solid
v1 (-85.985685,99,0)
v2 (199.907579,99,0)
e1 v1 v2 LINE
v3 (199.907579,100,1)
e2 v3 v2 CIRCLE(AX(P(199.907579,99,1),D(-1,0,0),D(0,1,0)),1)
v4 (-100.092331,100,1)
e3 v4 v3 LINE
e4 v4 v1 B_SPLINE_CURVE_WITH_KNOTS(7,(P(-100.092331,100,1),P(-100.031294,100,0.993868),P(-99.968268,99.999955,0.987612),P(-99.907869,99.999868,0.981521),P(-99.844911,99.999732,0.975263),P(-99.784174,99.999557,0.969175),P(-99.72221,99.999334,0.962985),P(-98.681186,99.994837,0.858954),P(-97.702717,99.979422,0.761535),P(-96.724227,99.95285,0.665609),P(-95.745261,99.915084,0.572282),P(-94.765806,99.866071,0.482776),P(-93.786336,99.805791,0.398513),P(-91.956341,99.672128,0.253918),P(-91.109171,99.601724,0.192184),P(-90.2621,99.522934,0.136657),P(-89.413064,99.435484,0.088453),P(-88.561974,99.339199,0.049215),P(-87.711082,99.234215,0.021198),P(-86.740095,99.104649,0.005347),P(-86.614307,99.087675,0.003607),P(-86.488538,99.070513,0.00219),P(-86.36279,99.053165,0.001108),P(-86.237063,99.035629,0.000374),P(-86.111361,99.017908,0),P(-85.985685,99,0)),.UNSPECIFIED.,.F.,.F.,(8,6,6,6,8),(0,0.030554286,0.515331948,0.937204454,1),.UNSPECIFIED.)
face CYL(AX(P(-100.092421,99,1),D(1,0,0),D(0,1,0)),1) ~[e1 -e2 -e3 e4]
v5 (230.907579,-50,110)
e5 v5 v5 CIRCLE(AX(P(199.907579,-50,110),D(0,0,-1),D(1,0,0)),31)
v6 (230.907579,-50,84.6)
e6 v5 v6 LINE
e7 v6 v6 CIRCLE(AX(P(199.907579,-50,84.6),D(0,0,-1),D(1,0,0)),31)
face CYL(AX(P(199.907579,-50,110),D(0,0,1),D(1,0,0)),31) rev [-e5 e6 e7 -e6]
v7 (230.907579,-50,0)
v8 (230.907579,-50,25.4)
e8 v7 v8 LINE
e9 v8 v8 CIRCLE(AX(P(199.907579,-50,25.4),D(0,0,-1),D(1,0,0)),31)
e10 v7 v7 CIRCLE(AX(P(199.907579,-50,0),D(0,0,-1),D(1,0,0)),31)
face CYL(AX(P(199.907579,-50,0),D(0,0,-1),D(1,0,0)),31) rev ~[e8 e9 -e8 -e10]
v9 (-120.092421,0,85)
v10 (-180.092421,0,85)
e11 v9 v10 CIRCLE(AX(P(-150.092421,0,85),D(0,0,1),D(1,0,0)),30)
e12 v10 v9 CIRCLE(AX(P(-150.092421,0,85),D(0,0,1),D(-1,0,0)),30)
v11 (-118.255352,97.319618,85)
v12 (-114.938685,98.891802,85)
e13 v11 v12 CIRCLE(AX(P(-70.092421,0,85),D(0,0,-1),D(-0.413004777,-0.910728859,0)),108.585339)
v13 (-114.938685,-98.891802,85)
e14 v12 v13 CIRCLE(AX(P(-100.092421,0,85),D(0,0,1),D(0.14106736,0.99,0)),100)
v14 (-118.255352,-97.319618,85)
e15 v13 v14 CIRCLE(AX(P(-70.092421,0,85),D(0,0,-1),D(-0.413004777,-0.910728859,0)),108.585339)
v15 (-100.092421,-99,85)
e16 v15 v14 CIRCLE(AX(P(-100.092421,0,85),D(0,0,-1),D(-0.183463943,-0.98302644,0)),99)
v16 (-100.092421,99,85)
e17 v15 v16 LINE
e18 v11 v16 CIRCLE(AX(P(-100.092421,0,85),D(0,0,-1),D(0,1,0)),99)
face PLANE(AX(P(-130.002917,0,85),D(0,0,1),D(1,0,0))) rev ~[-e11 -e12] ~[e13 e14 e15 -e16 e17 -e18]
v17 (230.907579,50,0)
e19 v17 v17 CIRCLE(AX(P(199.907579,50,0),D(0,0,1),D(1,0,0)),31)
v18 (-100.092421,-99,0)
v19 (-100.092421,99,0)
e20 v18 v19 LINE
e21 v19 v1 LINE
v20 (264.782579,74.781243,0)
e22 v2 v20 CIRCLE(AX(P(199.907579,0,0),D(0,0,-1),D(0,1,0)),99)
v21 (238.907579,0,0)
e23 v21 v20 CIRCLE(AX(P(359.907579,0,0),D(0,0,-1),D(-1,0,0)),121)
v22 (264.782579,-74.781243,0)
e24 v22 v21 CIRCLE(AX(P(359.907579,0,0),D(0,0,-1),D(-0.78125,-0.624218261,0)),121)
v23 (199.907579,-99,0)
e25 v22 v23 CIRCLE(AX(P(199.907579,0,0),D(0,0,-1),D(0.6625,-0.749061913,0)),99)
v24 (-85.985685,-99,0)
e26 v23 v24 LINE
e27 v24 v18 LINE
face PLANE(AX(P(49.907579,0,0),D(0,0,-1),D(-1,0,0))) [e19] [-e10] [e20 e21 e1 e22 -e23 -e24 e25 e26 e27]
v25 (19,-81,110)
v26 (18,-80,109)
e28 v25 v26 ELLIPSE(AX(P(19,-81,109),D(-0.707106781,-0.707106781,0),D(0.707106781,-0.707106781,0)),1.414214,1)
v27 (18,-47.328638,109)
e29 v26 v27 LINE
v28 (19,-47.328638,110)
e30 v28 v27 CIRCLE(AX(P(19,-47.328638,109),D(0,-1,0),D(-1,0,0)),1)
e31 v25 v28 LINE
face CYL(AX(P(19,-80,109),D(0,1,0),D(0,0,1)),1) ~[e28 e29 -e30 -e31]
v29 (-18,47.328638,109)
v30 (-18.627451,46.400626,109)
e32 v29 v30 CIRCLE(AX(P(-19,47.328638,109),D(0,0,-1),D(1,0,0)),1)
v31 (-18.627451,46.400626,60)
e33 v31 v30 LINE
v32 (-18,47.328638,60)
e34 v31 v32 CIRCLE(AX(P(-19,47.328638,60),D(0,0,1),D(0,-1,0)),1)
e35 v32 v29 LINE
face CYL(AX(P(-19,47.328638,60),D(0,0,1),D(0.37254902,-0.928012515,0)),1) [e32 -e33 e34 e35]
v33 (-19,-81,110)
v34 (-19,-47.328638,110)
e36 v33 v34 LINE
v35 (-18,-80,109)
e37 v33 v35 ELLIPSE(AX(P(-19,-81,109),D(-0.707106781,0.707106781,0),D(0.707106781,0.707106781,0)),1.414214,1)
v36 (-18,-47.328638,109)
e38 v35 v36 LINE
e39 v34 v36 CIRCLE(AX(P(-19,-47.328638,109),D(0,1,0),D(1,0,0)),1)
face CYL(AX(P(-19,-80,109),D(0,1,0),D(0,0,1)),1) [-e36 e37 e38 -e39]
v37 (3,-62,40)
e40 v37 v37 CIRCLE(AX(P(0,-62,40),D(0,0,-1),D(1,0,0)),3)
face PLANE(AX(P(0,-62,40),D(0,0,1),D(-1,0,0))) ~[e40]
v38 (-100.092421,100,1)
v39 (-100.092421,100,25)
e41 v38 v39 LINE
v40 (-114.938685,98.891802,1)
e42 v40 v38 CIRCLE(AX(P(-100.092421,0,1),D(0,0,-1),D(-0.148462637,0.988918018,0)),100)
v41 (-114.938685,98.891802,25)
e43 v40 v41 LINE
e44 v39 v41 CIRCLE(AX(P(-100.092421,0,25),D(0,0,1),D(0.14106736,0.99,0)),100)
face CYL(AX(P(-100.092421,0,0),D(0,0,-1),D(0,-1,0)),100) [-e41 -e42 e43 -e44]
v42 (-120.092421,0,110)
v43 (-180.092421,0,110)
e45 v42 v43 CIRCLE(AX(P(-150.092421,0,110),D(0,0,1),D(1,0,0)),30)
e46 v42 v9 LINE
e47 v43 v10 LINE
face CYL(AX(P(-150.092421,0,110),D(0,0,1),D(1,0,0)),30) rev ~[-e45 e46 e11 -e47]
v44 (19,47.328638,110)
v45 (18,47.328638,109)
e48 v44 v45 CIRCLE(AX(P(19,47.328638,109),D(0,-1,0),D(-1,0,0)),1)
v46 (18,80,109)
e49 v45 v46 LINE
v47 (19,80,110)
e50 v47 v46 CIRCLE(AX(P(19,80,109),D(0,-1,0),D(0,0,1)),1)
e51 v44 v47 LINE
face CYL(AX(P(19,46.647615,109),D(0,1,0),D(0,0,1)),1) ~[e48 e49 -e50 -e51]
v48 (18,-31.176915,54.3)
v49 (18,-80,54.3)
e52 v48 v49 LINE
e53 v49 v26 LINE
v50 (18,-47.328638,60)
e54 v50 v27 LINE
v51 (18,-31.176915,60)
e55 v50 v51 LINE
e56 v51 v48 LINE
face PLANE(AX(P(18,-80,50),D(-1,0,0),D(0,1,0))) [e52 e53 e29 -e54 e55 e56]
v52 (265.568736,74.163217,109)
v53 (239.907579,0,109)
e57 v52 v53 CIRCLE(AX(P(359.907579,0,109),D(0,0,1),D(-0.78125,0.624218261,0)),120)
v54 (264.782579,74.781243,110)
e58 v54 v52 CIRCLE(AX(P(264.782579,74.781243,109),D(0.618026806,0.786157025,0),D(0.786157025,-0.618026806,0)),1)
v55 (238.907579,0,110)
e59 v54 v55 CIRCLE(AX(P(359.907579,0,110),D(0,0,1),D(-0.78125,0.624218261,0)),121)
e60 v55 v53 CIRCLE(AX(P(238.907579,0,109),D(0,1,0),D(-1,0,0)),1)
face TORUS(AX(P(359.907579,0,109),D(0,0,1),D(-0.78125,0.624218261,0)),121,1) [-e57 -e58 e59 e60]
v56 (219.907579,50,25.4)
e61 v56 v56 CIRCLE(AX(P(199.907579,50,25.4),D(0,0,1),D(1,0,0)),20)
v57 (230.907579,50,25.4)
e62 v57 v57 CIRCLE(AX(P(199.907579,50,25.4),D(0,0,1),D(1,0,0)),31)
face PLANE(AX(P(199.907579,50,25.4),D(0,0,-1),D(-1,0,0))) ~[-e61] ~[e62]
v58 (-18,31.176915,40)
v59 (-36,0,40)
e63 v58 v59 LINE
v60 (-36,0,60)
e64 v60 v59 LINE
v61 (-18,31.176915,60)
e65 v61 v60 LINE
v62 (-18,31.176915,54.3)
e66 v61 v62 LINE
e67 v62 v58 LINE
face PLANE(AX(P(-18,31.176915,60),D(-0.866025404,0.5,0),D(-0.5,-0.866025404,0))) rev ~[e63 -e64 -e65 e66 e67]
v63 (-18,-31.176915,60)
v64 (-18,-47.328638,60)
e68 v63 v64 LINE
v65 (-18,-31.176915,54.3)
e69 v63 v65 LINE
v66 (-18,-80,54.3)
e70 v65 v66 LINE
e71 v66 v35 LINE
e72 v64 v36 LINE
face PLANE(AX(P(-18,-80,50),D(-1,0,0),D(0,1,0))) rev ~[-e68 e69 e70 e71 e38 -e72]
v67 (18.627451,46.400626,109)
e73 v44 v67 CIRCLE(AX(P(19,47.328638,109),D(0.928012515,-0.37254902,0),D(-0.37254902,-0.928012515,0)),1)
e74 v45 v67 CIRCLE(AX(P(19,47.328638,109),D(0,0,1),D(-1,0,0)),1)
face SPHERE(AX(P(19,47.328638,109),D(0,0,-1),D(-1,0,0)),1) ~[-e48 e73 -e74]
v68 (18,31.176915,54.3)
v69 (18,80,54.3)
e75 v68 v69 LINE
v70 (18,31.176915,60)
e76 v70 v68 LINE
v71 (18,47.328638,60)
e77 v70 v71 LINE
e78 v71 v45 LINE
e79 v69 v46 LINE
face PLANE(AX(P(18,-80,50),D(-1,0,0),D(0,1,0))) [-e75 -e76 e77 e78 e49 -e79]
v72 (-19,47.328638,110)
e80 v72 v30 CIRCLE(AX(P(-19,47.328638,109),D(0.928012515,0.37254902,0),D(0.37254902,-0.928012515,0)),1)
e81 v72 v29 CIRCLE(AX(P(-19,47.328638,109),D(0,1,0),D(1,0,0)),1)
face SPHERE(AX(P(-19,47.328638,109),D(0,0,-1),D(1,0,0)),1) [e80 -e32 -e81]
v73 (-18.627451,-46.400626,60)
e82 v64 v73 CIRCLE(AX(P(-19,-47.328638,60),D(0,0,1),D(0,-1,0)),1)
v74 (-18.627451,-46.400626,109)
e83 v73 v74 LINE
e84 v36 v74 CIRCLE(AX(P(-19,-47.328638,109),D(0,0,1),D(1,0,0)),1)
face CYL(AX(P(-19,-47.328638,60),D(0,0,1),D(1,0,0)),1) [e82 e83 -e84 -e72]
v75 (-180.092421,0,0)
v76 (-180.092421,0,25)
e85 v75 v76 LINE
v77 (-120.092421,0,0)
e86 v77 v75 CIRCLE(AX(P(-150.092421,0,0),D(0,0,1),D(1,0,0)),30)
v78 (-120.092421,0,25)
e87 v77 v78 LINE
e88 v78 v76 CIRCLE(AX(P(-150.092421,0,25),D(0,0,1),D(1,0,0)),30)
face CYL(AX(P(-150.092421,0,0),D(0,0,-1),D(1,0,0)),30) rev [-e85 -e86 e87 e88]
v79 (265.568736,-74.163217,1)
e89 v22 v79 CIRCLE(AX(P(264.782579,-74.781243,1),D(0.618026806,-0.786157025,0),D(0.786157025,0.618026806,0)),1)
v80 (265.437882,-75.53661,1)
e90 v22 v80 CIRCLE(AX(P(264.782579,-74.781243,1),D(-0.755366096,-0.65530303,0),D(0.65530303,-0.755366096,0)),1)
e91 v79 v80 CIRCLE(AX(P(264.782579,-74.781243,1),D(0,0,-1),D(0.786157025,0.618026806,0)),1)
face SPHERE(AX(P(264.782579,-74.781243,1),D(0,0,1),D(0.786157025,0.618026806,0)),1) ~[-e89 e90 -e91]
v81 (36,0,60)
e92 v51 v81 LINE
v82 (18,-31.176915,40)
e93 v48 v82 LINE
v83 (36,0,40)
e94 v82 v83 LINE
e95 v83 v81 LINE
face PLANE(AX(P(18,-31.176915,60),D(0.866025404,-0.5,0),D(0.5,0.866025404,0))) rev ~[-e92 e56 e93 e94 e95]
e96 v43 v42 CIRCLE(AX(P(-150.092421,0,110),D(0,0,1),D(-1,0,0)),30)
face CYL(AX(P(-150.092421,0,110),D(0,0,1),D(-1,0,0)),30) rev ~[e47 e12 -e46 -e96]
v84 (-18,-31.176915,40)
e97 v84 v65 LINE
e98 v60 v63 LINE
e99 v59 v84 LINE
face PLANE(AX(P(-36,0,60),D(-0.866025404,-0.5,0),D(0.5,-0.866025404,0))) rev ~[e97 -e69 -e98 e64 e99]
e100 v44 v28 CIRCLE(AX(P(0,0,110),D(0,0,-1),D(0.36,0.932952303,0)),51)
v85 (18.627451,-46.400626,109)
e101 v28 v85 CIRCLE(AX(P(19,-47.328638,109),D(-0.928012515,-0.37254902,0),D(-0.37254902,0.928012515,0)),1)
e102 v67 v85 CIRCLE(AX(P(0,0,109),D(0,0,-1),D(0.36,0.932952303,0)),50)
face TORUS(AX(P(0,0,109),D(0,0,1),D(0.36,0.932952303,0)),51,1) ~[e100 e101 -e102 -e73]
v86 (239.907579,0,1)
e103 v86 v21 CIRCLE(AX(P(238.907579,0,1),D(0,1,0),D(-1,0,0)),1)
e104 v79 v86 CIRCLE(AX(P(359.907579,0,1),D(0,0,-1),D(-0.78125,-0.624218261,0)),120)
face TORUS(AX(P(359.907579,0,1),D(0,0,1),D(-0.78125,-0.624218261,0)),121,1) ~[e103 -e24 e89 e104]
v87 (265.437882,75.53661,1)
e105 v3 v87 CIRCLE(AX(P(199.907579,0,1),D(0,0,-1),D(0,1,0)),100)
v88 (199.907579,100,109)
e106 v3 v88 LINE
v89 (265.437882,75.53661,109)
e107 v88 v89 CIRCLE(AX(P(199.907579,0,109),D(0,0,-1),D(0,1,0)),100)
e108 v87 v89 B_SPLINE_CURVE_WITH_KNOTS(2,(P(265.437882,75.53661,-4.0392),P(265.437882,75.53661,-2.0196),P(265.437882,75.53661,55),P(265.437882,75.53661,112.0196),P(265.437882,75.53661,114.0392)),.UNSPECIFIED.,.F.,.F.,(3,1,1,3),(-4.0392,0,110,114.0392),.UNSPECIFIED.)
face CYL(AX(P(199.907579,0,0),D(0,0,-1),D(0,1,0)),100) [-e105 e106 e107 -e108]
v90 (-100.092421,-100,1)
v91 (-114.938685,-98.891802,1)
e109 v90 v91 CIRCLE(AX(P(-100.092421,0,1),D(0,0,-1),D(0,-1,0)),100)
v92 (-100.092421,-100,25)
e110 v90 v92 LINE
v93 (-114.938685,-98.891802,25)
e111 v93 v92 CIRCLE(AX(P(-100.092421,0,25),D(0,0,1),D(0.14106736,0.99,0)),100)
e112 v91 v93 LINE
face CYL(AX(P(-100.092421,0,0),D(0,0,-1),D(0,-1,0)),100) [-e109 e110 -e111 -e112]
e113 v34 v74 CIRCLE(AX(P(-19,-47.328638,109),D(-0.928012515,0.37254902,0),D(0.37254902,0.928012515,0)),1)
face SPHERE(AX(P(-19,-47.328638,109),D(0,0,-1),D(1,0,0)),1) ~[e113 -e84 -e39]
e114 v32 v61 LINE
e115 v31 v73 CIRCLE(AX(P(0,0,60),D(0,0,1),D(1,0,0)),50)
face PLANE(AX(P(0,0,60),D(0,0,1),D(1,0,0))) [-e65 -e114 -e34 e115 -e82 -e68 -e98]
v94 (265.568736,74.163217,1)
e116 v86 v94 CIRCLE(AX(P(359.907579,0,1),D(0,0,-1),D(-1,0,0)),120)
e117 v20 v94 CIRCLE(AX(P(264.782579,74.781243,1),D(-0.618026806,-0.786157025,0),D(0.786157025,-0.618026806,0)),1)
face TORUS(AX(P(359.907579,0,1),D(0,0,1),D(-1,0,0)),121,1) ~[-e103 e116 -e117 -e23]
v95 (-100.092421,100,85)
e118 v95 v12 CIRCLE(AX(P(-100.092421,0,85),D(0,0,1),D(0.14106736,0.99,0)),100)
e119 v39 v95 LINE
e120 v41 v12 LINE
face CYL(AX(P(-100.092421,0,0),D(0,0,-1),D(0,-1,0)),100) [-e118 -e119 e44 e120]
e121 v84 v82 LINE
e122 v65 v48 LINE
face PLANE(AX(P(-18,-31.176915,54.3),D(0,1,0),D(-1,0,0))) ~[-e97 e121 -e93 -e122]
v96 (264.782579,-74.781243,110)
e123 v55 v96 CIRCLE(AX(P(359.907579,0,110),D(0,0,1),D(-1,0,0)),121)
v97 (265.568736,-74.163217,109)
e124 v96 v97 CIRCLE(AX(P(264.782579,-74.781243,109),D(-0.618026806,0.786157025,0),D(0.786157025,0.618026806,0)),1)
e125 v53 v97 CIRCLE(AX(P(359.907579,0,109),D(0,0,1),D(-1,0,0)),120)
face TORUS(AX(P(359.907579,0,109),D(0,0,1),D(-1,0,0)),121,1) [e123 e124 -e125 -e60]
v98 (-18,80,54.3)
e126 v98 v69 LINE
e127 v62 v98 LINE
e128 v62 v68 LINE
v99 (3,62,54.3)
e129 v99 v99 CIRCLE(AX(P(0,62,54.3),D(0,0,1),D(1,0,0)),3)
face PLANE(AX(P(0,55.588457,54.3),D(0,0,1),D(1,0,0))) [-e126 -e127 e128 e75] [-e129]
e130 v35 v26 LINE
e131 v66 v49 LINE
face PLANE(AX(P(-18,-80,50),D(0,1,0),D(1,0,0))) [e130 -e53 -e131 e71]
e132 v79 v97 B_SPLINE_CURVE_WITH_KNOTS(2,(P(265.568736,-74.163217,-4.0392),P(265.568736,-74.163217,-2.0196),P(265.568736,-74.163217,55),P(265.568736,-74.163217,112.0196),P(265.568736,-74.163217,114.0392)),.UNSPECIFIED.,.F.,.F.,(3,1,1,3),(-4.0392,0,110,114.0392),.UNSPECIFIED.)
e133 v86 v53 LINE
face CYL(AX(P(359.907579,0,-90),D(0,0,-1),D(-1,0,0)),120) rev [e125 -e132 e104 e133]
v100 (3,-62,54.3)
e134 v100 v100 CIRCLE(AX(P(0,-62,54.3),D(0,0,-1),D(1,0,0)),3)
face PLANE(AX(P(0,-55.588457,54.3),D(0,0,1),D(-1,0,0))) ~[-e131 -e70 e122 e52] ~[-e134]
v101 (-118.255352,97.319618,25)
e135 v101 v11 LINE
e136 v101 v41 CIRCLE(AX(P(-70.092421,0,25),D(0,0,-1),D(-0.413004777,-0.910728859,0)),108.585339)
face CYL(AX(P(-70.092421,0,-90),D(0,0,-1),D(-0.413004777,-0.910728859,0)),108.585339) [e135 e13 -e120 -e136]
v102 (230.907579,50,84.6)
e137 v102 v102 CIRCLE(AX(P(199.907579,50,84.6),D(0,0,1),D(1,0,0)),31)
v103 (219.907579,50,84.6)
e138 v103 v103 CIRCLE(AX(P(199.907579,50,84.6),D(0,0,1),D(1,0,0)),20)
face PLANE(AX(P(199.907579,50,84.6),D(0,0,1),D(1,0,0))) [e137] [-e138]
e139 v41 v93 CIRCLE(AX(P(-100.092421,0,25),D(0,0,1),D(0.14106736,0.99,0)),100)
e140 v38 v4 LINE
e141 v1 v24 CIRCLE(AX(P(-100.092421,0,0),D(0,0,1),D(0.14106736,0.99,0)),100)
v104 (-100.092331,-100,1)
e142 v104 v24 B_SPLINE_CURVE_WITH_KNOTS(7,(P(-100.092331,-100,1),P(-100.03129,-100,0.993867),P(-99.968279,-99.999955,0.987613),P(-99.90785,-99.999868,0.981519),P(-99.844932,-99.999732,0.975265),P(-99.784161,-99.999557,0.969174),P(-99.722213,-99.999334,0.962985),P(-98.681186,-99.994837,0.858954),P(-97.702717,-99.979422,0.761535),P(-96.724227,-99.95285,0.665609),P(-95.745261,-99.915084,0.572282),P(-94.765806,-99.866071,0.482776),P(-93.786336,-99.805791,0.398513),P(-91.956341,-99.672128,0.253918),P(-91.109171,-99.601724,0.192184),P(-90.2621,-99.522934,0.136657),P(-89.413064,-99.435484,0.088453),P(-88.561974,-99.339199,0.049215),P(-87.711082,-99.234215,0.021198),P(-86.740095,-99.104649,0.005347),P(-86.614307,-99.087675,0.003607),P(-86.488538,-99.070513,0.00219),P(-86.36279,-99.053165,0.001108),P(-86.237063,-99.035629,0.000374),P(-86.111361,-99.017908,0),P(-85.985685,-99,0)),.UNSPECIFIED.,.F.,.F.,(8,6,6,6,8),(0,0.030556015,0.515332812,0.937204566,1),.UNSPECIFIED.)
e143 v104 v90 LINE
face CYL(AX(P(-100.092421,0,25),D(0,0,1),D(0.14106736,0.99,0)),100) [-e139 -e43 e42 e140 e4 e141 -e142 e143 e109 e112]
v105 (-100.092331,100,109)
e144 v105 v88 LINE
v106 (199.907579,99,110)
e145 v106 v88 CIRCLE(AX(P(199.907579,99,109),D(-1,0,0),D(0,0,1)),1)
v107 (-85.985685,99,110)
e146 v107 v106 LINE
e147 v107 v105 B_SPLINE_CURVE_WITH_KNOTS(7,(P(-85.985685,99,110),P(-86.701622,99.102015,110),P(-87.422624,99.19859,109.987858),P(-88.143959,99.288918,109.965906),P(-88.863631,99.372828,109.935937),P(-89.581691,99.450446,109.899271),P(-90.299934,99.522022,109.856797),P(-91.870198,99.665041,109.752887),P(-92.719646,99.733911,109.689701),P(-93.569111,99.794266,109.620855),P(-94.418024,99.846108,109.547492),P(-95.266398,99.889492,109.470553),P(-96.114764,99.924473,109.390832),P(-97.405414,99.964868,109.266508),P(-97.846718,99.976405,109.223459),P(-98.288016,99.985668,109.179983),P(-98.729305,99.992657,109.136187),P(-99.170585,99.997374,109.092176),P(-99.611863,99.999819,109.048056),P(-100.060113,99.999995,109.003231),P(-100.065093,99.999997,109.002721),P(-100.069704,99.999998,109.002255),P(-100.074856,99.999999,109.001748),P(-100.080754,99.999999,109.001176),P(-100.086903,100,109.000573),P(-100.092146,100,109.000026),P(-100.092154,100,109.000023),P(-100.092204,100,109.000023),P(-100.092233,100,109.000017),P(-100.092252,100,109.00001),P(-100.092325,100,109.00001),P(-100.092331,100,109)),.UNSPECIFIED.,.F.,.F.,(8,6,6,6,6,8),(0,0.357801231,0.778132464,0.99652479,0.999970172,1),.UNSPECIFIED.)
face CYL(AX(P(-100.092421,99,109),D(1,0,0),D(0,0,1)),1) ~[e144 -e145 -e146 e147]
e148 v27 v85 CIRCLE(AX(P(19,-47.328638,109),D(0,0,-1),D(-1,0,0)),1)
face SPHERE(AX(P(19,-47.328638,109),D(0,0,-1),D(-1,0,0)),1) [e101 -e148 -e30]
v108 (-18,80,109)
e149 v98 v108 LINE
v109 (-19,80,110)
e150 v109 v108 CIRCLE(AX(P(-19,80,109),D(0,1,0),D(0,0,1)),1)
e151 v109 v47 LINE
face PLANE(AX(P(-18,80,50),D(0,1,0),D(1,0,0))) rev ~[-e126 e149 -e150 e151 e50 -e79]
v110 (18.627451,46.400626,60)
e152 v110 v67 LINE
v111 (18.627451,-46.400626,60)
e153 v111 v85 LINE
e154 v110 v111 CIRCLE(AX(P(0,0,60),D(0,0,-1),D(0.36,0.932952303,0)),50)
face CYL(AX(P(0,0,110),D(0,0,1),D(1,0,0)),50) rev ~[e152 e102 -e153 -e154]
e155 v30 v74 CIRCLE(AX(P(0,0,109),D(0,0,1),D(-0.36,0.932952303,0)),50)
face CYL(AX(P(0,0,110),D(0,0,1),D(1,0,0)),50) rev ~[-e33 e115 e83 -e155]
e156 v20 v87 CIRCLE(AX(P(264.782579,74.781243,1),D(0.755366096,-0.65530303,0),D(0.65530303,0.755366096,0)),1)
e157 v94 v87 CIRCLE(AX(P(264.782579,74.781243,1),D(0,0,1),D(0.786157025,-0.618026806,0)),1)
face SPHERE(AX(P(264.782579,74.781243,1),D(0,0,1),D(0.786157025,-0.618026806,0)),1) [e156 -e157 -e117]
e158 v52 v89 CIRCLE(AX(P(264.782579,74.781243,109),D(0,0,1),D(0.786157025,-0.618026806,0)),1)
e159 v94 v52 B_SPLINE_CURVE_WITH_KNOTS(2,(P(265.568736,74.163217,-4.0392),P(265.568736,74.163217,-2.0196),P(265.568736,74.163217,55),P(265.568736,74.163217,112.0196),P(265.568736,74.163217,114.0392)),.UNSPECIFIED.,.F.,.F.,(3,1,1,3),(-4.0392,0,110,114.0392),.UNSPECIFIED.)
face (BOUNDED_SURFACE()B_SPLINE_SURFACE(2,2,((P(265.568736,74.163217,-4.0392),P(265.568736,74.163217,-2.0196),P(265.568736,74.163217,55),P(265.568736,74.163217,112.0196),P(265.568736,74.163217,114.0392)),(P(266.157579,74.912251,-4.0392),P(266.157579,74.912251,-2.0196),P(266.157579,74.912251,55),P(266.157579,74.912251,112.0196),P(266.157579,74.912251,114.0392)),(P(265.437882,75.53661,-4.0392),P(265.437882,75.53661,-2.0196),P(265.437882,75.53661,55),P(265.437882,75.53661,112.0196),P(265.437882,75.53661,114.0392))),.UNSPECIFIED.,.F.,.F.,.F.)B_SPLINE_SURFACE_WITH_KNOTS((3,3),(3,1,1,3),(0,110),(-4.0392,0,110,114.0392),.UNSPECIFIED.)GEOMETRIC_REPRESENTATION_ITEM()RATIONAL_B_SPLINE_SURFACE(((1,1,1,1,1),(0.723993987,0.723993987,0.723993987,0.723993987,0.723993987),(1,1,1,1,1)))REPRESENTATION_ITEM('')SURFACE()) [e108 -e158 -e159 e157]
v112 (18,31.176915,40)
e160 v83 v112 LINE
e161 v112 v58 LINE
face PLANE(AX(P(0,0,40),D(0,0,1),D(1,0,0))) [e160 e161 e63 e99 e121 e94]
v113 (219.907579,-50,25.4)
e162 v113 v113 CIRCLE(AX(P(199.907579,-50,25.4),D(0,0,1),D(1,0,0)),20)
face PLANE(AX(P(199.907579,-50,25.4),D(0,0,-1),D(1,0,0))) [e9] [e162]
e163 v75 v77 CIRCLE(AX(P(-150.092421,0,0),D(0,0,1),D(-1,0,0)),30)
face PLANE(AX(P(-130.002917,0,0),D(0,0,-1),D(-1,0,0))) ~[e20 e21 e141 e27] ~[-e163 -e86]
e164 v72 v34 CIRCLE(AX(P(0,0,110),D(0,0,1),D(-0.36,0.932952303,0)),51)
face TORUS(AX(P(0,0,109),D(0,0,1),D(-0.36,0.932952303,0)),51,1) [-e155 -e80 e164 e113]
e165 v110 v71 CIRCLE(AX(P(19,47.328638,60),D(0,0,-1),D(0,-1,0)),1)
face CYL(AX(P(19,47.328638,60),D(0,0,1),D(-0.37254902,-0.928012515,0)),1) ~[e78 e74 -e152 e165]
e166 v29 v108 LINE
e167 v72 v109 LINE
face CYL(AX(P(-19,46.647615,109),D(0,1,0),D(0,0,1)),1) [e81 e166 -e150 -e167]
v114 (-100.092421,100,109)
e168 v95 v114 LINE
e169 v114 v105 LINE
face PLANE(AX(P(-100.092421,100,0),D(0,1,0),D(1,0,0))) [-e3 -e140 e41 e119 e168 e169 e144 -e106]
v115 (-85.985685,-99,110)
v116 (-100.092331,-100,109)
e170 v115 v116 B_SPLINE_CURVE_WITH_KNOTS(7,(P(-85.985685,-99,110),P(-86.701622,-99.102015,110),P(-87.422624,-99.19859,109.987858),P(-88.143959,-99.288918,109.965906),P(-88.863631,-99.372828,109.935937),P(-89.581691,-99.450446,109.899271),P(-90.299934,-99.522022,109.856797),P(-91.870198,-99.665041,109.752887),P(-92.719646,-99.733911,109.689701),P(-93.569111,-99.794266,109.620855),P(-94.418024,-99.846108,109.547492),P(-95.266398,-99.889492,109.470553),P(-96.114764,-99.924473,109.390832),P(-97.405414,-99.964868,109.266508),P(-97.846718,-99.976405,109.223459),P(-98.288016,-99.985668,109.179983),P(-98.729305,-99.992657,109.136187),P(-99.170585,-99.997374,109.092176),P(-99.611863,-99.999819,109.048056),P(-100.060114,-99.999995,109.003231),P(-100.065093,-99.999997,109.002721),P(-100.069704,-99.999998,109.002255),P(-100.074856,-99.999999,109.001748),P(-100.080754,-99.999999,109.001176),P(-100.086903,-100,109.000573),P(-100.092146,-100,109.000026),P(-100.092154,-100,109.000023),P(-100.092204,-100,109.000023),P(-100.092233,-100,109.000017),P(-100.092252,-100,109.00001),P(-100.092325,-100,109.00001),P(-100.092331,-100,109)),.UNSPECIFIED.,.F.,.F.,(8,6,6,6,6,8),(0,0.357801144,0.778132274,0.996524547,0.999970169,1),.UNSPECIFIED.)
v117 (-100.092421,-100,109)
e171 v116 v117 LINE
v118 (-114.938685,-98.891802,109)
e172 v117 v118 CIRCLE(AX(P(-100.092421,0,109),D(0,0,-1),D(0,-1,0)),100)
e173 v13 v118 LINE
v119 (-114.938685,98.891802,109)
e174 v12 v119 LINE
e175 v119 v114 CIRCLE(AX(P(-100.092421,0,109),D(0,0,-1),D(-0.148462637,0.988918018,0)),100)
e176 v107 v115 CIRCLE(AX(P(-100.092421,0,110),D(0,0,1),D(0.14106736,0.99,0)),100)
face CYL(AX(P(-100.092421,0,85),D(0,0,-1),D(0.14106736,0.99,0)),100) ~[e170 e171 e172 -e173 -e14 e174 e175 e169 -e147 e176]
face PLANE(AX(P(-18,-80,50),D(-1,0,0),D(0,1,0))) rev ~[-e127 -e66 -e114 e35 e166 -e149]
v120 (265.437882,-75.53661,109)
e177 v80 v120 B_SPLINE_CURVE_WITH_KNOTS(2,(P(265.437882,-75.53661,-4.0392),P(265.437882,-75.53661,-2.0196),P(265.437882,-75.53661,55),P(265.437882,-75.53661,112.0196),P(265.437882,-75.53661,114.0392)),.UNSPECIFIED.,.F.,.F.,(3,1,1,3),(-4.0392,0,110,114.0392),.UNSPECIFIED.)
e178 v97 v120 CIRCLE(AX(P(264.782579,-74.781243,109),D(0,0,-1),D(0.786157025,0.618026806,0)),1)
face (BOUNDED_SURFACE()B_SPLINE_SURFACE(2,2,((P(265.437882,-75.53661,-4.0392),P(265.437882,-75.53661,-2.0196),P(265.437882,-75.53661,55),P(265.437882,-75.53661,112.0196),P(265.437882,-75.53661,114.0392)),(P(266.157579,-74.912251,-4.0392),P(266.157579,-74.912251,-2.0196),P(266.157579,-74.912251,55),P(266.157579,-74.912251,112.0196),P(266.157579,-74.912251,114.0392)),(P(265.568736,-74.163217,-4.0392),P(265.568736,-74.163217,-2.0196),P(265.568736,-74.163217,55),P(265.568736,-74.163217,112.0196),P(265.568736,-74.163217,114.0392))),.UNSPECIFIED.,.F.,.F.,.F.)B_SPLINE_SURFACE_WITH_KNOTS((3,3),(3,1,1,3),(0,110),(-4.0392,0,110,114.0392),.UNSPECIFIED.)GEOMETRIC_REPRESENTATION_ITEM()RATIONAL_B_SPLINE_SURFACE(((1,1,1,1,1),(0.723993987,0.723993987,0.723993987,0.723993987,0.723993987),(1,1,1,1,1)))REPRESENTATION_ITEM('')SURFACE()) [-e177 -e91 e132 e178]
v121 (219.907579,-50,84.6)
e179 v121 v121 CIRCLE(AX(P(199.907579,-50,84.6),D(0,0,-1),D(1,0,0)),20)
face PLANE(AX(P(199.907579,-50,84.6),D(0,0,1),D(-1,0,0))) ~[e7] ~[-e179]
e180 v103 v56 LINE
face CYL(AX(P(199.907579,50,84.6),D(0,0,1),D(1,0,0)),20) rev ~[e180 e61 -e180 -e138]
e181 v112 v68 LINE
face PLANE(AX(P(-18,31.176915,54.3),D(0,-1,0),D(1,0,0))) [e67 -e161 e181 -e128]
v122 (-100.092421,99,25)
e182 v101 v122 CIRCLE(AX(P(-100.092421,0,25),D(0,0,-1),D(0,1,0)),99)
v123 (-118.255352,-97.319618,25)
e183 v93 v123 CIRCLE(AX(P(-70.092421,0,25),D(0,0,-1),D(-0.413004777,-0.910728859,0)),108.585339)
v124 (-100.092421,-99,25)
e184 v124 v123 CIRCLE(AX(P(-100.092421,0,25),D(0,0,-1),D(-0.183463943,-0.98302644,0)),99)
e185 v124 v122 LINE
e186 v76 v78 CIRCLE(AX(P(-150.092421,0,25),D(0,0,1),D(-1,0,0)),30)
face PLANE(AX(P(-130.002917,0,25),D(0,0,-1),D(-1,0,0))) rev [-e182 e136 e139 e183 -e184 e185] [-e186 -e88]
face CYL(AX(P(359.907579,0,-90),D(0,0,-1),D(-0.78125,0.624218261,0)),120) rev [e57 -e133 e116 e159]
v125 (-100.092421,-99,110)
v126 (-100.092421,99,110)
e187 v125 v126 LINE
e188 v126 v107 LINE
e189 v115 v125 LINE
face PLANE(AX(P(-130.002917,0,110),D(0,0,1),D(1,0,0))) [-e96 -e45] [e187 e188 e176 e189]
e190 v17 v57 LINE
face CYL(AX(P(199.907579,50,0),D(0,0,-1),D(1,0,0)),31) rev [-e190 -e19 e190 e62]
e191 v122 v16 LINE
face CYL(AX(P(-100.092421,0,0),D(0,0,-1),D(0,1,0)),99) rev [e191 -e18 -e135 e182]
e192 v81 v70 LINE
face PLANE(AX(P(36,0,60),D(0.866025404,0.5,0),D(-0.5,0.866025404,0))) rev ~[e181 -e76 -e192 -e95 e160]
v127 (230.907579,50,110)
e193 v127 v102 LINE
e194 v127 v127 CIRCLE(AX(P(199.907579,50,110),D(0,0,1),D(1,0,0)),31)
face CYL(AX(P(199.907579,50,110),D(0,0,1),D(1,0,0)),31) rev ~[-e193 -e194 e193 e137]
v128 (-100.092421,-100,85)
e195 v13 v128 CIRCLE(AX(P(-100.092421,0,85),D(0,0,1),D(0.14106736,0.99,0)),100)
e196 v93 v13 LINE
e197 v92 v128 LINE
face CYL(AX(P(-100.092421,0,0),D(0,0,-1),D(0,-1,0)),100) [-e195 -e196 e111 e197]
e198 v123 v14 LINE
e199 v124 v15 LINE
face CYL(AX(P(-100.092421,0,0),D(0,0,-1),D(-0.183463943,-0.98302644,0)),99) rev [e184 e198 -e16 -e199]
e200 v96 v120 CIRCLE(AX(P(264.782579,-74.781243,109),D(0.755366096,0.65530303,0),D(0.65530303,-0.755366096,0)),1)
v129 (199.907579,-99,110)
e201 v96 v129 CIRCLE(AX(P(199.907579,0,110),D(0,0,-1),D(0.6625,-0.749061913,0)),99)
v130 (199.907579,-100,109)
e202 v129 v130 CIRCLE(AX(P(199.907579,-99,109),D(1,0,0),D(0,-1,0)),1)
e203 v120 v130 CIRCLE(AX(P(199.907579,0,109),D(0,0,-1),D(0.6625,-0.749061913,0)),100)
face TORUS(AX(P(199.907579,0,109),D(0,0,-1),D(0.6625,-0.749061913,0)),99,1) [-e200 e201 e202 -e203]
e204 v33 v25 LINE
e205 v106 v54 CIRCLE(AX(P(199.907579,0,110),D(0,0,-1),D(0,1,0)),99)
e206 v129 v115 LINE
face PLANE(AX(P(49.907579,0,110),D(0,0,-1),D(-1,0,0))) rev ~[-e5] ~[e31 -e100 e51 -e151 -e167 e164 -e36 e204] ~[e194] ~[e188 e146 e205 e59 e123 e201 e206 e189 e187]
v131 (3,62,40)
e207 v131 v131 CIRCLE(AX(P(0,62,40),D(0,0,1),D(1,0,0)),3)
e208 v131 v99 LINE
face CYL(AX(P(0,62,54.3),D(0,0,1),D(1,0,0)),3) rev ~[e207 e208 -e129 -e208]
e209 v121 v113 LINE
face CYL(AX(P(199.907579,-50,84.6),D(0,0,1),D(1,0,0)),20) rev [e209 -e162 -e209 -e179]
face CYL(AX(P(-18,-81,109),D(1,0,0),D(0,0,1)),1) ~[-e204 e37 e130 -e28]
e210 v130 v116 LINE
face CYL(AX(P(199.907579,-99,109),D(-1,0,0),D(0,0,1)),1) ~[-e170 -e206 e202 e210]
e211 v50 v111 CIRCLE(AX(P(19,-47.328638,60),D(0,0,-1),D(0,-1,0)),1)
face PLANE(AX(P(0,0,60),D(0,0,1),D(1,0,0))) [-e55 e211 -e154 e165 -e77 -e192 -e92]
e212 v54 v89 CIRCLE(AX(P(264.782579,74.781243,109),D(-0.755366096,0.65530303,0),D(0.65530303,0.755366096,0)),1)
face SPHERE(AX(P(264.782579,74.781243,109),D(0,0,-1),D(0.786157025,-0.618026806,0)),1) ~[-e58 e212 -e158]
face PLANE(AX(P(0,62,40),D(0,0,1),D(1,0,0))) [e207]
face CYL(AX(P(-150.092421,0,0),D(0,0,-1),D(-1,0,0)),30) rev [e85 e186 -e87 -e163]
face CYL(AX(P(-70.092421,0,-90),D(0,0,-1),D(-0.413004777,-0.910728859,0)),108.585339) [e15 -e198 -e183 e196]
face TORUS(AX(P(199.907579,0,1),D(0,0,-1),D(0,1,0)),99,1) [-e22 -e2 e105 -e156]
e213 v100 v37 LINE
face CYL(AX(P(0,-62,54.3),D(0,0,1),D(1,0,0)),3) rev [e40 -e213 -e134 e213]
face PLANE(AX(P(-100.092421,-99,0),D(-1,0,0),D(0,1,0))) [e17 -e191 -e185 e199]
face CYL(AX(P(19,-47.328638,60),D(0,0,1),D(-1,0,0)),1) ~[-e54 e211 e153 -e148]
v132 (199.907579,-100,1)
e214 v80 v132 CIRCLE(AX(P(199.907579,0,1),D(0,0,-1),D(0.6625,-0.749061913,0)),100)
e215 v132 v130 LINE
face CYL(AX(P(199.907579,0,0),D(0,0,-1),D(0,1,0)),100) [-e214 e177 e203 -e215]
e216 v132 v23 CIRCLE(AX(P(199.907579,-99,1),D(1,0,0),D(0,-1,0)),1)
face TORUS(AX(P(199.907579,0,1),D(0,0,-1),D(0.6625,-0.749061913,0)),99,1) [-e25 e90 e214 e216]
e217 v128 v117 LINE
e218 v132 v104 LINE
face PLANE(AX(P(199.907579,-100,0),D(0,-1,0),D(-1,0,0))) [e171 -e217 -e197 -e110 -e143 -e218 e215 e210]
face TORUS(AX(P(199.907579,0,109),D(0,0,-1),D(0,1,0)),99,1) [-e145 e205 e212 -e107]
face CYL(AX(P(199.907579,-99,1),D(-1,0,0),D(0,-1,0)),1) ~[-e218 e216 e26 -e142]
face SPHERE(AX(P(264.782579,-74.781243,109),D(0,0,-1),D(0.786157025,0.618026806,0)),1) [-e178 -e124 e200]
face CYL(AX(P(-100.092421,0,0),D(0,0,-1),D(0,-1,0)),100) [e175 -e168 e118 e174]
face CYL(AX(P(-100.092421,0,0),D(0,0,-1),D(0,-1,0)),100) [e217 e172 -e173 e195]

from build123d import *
from build123d.topology import SkipClean

# Parameters (mm, degrees)
SKETCH_1_R                                   = 40
EXTRUDE_1_DEPTH                              = 110
SKETCH_2_R                                   = 3
CUT_EXTRUDE_2_DEPTH                          = 150
SKETCH_3_R                                   = 50
CUT_EXTRUDE_3_DEPTH                          = 50
CUT_EXTRUDE_4_DEPTH                          = 10
SKETCH_5_W                                   = 36
SKETCH_5_H                                   = 160
CUT_EXTRUDE_7_DEPTH                          = 122
CUT_EXTRUDE_8_DEPTH                          = 10
SKETCH_7_R                                   = 3
CUT_EXTRUDE_9_DEPTH                          = 10
CUT_EXTRUDE_12_DEPTH                         = 200
SKETCH_9_R                                   = 31
SKETCH_9_R_2                                 = 12.5
CUT_EXTRUDE_13_DEPTH                         = 25.4
MIRROR_3_AT_THE_SECOND_PLANE_COPY_1_DEPTH    = 200
MIRROR_3_AT_THE_SECOND_PLANE_COPY_2_SKET_R   = 31
MIRROR_3_AT_THE_SECOND_PLANE_COPY_2_SKET_R_2 = 12.5
MIRROR_3_AT_THE_SECOND_PLANE_COPY_2_DEPTH    = 25.4
EXTRUDE_START                                = 4.3
EXTRUDE_2_DEPTH                              = 4.3
SKETCH_11_W                                  = 36
SKETCH_11_H                                  = 48.823085464
SKETCH_11_R                                  = 3
EXTRUDE_3_DEPTH                              = 4.3
CUT_EXTRUDE_START                            = -200
CUT_EXTRUDE_14_DEPTH                         = 200
SKETCH_13_R                                  = 20
CUT_EXTRUDE_15_DEPTH                         = 200
CUT_EXTRUDE_16_DEPTH                         = 200
FILLET_1_R                                   = 1
FILLET_2_R                                   = 1
EXTRUDE_START_2                              = -110
SKETCH_18_R                                  = 40
EXTRUDE_6_DEPTH                              = 110
CUT_EXTRUDE_START_2                          = -110
CUT_EXTRUDE_20_DEPTH                         = 110
EXTRUDE_START_3                              = -25
EXTRUDE_7_DEPTH                              = 25
CUT_EXTRUDE_21_DEPTH                         = 25


with BuildPart() as part:
    # 草图1 → 凸台-拉伸1 (new body)
    with BuildSketch(Plane.XY):
        with BuildLine():
            Line((-100.092421442, 100), (199.907578558, 100))
            ThreePointArc((199.907578558, 100), (299.907578558, 0), (199.907578558, -100))
            Line((199.907578558, -100), (-100.092421442, -100))
            ThreePointArc((-100.092421442, -100), (-200.092421442, 0), (-100.092421442, 100))
        make_face()
        with Locations((-110.092421442, 0)):
            Circle(SKETCH_1_R, mode=Mode.SUBTRACT)
    extrude(amount=EXTRUDE_1_DEPTH)

    # 草图2 → 切除-拉伸2 (cut)
    with BuildSketch(Plane(origin=(-100, 0, 0), x_dir=(0, 0, -1), z_dir=(1, 0, 0))):
        with Locations((-95, 0)):
            Circle(SKETCH_2_R)
        with Locations((-75, 0)):
            Circle(SKETCH_2_R)
        with Locations((-55, 0)):
            Circle(SKETCH_2_R)
    extrude(amount=-CUT_EXTRUDE_2_DEPTH, mode=Mode.SUBTRACT)

    # 草图3 → 切除-拉伸3 (cut)
    with BuildSketch(Plane.XY.offset(110)):
        Circle(SKETCH_3_R)
    extrude(amount=-CUT_EXTRUDE_3_DEPTH, mode=Mode.SUBTRACT)

    # 草图4 → 切除-拉伸4 (cut)
    with BuildSketch(Plane.XY.offset(60)):
        Polygon((36, 0), (18, 31.176914536), (-18, 31.176914536), (-36, 0), (-18, -31.176914536), (18, -31.176914536), align=None)
    extrude(amount=-CUT_EXTRUDE_4_DEPTH, mode=Mode.SUBTRACT)

    # 草图5 → 切除-拉伸7 (cut)
    with BuildSketch(Plane.XY.offset(50)):
        Rectangle(SKETCH_5_W, SKETCH_5_H)
    extrude(amount=CUT_EXTRUDE_7_DEPTH, mode=Mode.SUBTRACT)

    # 草图6 → 切除-拉伸8 (cut)
    with BuildSketch(Plane.XY.offset(50)):
        Polygon((36, 0), (18, 31.176914536), (-18, 31.176914536), (-36, 0), (-18, -31.176914536), (18, -31.176914536), align=None)
    extrude(amount=-CUT_EXTRUDE_8_DEPTH, mode=Mode.SUBTRACT)

    # 草图7 → 切除-拉伸9 (cut)
    with BuildSketch(Plane.XY.offset(50)):
        with Locations((0, 62)):
            Circle(SKETCH_7_R)
    cut_extrude_9 = extrude(amount=-CUT_EXTRUDE_9_DEPTH, mode=Mode.SUBTRACT)

    # 镜向1: 切除-拉伸9 across plane
    add(cut_extrude_9.mirror(Plane.ZX), mode=Mode.SUBTRACT)

    # 草图8 → 切除-拉伸12 (cut)
    with BuildSketch(Plane.XY.offset(110)):
        with BuildLine():
            ThreePointArc((212.407578558, 50), (208.746413323, 58.838834765), (199.907578558, 62.5))
            Line((199.907578558, 62.5), (199.907578558, 37.5))
            ThreePointArc((199.907578558, 37.5), (208.746413323, 41.161165235), (212.407578558, 50))
        make_face()
        with BuildLine():
            Line((199.907578558, 37.5), (199.907578558, 62.5))
            ThreePointArc((199.907578558, 62.5), (187.407578558, 50), (199.907578558, 37.5))
        make_face()
    cut_extrude_12 = extrude(amount=-CUT_EXTRUDE_12_DEPTH, mode=Mode.SUBTRACT)

    # 草图9 → 切除-拉伸13 (cut)
    with BuildSketch(Plane.XY.offset(110)):
        with Locations((199.907578558, 50)):
            Circle(SKETCH_9_R)
        with Locations((199.907578558, 50)):
            Circle(SKETCH_9_R_2, mode=Mode.SUBTRACT)
    cut_extrude_13 = extrude(amount=-CUT_EXTRUDE_13_DEPTH, mode=Mode.SUBTRACT)

    # 镜向3: 切除-拉伸12, 切除-拉伸13 across plane
    add(cut_extrude_12.mirror(Plane.ZX), mode=Mode.SUBTRACT)
    add(cut_extrude_13.mirror(Plane.ZX), mode=Mode.SUBTRACT)

    # 镜向3 at the second plane: 切除-拉伸12, 切除-拉伸13 across plane
    add(cut_extrude_12.mirror(Plane.XY.offset(55)), mode=Mode.SUBTRACT)
    add(cut_extrude_13.mirror(Plane.XY.offset(55)), mode=Mode.SUBTRACT)

    # 镜向3 at the second plane copy 1 sket → 镜向3 at the second plane copy 1 (cut)
    with BuildSketch(Plane(origin=(0, 0, 0), x_dir=(1, 0, 0), z_dir=(0, 0, -1))):
        with BuildLine():
            ThreePointArc((212.407578558, 50), (208.746413323, 58.838834765), (199.907578558, 62.5))
            Line((199.907578558, 62.5), (199.907578558, 37.5))
            ThreePointArc((199.907578558, 37.5), (208.746413323, 41.161165235), (212.407578558, 50))
        make_face()
        with BuildLine():
            Line((199.907578558, 37.5), (199.907578558, 62.5))
            ThreePointArc((199.907578558, 62.5), (187.407578558, 50), (199.907578558, 37.5))
        make_face()
    extrude(amount=-MIRROR_3_AT_THE_SECOND_PLANE_COPY_1_DEPTH, mode=Mode.SUBTRACT)

    # 镜向3 at the second plane copy 2 sket → 镜向3 at the second plane copy 2 (cut)
    with BuildSketch(Plane(origin=(0, 0, 0), x_dir=(1, 0, 0), z_dir=(0, 0, -1))):
        with Locations((199.907578558, 50)):
            Circle(MIRROR_3_AT_THE_SECOND_PLANE_COPY_2_SKET_R)
        with Locations((199.907578558, 50)):
            Circle(MIRROR_3_AT_THE_SECOND_PLANE_COPY_2_SKET_R_2, mode=Mode.SUBTRACT)
    extrude(amount=-MIRROR_3_AT_THE_SECOND_PLANE_COPY_2_DEPTH, mode=Mode.SUBTRACT)

    # 草图10 → 凸台-拉伸2 (add)
    with BuildSketch(Plane.XY.offset(40).offset(EXTRUDE_START)):
        with BuildLine():
            ThreePointArc((18, 31.176914536), (31.176914536, 18), (36, 0))
            ThreePointArc((36, 0), (31.176914536, -18), (18, -31.176914536))
            Line((18, -31.176914536), (18, -46.647615159))
            ThreePointArc((18, -46.647615159), (41.231056256, -28.284271247), (50, 0))
            ThreePointArc((50, 0), (41.231056256, 28.284271247), (18, 46.647615159))
            Line((18, 46.647615159), (18, 31.176914536))
        make_face()
        with BuildLine():
            ThreePointArc((-36, 0), (-31.176914536, 18), (-18, 31.176914536))
            Line((-18, 31.176914536), (-18, 46.647615159))
            ThreePointArc((-18, 46.647615159), (-50, 0), (-18, -46.647615159))
            Line((-18, -46.647615159), (-18, -31.176914536))
            ThreePointArc((-18, -31.176914536), (-31.176914536, -18), (-36, 0))
        make_face()
        with BuildLine():
            Line((18, 31.176914536), (36, 0))
            ThreePointArc((36, 0), (31.176914536, 18), (18, 31.176914536))
        make_face()
        with BuildLine():
            ThreePointArc((18, -31.176914536), (31.176914536, -18), (36, 0))
            Line((36, 0), (18, -31.176914536))
        make_face()
        with BuildLine():
            ThreePointArc((-36, 0), (-31.176914536, -18), (-18, -31.176914536))
            Line((-18, -31.176914536), (-36, 0))
        make_face()
        with BuildLine():
            Line((-36, 0), (-18, 31.176914536))
            ThreePointArc((-18, 31.176914536), (-31.176914536, 18), (-36, 0))
        make_face()
    extrude(amount=-EXTRUDE_2_DEPTH)

    # 草图11 → 凸台-拉伸3 (add)
    with BuildSketch(Plane.XY.offset(50).offset(EXTRUDE_START)):
        with Locations((0, 55.588457268)):
            Rectangle(SKETCH_11_W, SKETCH_11_H)
        with Locations((0, 62)):
            Circle(SKETCH_11_R, mode=Mode.SUBTRACT)
    extrude_3 = extrude(amount=-EXTRUDE_3_DEPTH)

    # 镜向4: 凸台-拉伸3 across plane
    add(extrude_3.mirror(Plane.ZX))

    # 草图12 → 切除-拉伸14 (cut)
    with BuildSketch(Plane.XY.offset(110).offset(CUT_EXTRUDE_START)):
        with BuildLine():
            ThreePointArc((299.907578558, 0), (291.080491202, 41.079191813), (266.157578558, 74.906191333))
            ThreePointArc((266.157578558, 74.906191333), (246.660062029, 39.686269666), (239.907578558, 0))
            Line((239.907578558, 0), (299.907578558, 0))
        make_face()
        with BuildLine():
            ThreePointArc((479.907578558, 0), (399.593848224, 113.247516529), (266.157578558, 74.906191333))
            ThreePointArc((266.157578558, 74.906191333), (291.080491202, 41.079191813), (299.907578558, 0))
            ThreePointArc((299.907578558, 0), (291.080491202, -41.079191813), (266.157578558, -74.906191333))
            ThreePointArc((266.157578558, -74.906191333), (399.593848224, -113.247516529), (479.907578558, 0))
        make_face()
        with BuildLine():
            Line((299.907578558, 0), (239.907578558, 0))
            ThreePointArc((239.907578558, 0), (246.660062029, -39.686269666), (266.157578558, -74.906191333))
            ThreePointArc((266.157578558, -74.906191333), (291.080491202, -41.079191813), (299.907578558, 0))
        make_face()
    extrude(amount=CUT_EXTRUDE_14_DEPTH, mode=Mode.SUBTRACT)

    # 草图13 → 切除-拉伸15 (cut)
    with BuildSketch(Plane.XY.offset(84.6)):
        with Locations((199.907578558, 50)):
            Circle(SKETCH_13_R)
    cut_extrude_15 = extrude(amount=-CUT_EXTRUDE_15_DEPTH, mode=Mode.SUBTRACT)

    # 镜向5: 切除-拉伸15 across plane
    add(cut_extrude_15.mirror(Plane.ZX), mode=Mode.SUBTRACT)

    # 草图14 → 切除-拉伸16 (cut)
    with BuildSketch(Plane.XY.offset(110).offset(CUT_EXTRUDE_START)):
        with BuildLine():
            ThreePointArc((-114.938685096, -98.891801761), (-178.67776032, 0), (-114.938685096, 98.891801761))
            ThreePointArc((-114.938685096, 98.891801761), (-200.092421442, 0), (-114.938685096, -98.891801761))
        make_face()
    extrude(amount=CUT_EXTRUDE_16_DEPTH, mode=Mode.SUBTRACT)

    # 圆角1
    fillet_1_edges = [part.edges().sort_by_distance(p)[0] for p in [
        (235.329188253, -93.516359888, 110),
        (49.907578558, 100, 110),
        (235.329188253, 93.516359888, 0),
        (235.329188253, 93.516359888, 110),
        (266.157578558, 74.906191333, 55),
        (266.157578558, -74.906191333, 55),
        (239.907578558, 0, 0),
        (239.907578558, 0, 110),
        (-107.536204885, -99.722565591, 0),
        (-107.536204885, -99.722565591, 110),
        (-107.536204885, 99.722565591, 110),
        (49.907578558, 100, 0),
        (235.329188253, -93.516359888, 0),
        (49.907578558, -100, 0),
        (-107.536204885, 99.722565591, 0),
        (49.907578558, -100, 110),
    ]]
    fillet(fillet_1_edges, radius=FILLET_1_R)

    # 圆角2
    fillet_2_edges = [part.edges().sort_by_distance(p)[0] for p in [
        (-50, 0, 110),
        (50, 0, 110),
        (0, -80, 110),
        (-18, 46.647615159, 85),
        (-18, -46.647615159, 85),
        (-18, -63.323807579, 110),
        (18, -46.647615159, 85),
        (18, 46.647615159, 85),
        (18, -63.323807579, 110),
        (-18, 63.323807579, 110),
        (18, 63.323807579, 110),
    ]]
    fillet(fillet_2_edges, radius=FILLET_2_R)

    # 草图18 → 凸台-拉伸6 (add)
    # profile 1 of 2: a face of its own
    with BuildSketch(Plane.XY.offset(110).offset(EXTRUDE_START_2)):
        with BuildLine():
            ThreePointArc((-54.044965251, 0), (-70.729632471, 57.779453715), (-115.646949135, 97.770428394))
            ThreePointArc((-115.646949135, 97.770428394), (-116.952657244, 97.553741336), (-118.255351762, 97.319617561))
            ThreePointArc((-118.255351762, 97.319617561), (-178.67776032, 0), (-118.255351762, -97.319617561))
            ThreePointArc((-118.255351762, -97.319617561), (-116.952657244, -97.553741336), (-115.646949135, -97.770428394))
            ThreePointArc((-115.646949135, -97.770428394), (-70.729632471, -57.779453715), (-54.044965251, 0))
        make_face()
        with Locations((-110.092421442, 0)):
            Circle(SKETCH_18_R, mode=Mode.SUBTRACT)
    # profile 2 of 2: a face of its own
    with BuildSketch(Plane.XY.offset(110).offset(EXTRUDE_START_2)):
        with Locations((-110.092421442, 0)):
            Circle(SKETCH_18_R)
    extrude(amount=EXTRUDE_6_DEPTH)

    # 草图19 → 切除-拉伸20 (cut)
    with BuildSketch(Plane.XY.offset(110).offset(CUT_EXTRUDE_START_2)):
        with BuildLine():
            Line((-100.092421442, -99), (-100.092421442, 99))
            ThreePointArc((-100.092421442, 99), (-109.212669834, 98.579009273), (-118.255351762, 97.319617561))
            ThreePointArc((-118.255351762, 97.319617561), (-178.67776032, 0), (-118.255351762, -97.319617561))
            ThreePointArc((-118.255351762, -97.319617561), (-109.212669834, -98.579009273), (-100.092421442, -99))
        make_face()
    extrude(amount=CUT_EXTRUDE_20_DEPTH, mode=Mode.SUBTRACT)

    # 草图20 → 凸台-拉伸7 (add)
    with SkipClean():  # the faces are left unmerged after this step: merging them gives an invalid solid
        with BuildSketch(Plane.XY.offset(110).offset(EXTRUDE_START_3)):
            with BuildLine():
                Line((-100.092421442, -99), (-100.092421442, 99))
                Line((-100.092421442, 99), (-85.985685462, 99))
                ThreePointArc((-85.985685462, 99), (-200.092421442, 0), (-85.985685462, -99))
                Line((-85.985685462, -99), (-100.092421442, -99))
            make_face()
        extrude_7 = extrude(amount=EXTRUDE_7_DEPTH)

    # 草图21 → 切除-拉伸21 (cut)
    with SkipClean():  # the faces are left unmerged after this step: merging them gives an invalid solid
        with BuildSketch(Plane.XY.offset(110)):
            with BuildLine():
                ThreePointArc((-180.092421442, 0), (-150.092421442, -30), (-120.092421442, 0))
                Line((-120.092421442, 0), (-180.092421442, 0))
            make_face()
            with BuildLine():
                Line((-180.092421442, 0), (-120.092421442, 0))
                ThreePointArc((-120.092421442, 0), (-150.092421442, 30), (-180.092421442, 0))
            make_face()
        cut_extrude_21 = extrude(amount=-CUT_EXTRUDE_21_DEPTH, mode=Mode.SUBTRACT)

    # 镜向7: 凸台-拉伸7, 切除-拉伸21 across plane
    with SkipClean():  # the faces are left unmerged after this step: merging them gives an invalid solid
        add(extrude_7.mirror(Plane.XY.offset(55)))
        add(cut_extrude_21.mirror(Plane.XY.offset(55)), mode=Mode.SUBTRACT)


solid = part.part
